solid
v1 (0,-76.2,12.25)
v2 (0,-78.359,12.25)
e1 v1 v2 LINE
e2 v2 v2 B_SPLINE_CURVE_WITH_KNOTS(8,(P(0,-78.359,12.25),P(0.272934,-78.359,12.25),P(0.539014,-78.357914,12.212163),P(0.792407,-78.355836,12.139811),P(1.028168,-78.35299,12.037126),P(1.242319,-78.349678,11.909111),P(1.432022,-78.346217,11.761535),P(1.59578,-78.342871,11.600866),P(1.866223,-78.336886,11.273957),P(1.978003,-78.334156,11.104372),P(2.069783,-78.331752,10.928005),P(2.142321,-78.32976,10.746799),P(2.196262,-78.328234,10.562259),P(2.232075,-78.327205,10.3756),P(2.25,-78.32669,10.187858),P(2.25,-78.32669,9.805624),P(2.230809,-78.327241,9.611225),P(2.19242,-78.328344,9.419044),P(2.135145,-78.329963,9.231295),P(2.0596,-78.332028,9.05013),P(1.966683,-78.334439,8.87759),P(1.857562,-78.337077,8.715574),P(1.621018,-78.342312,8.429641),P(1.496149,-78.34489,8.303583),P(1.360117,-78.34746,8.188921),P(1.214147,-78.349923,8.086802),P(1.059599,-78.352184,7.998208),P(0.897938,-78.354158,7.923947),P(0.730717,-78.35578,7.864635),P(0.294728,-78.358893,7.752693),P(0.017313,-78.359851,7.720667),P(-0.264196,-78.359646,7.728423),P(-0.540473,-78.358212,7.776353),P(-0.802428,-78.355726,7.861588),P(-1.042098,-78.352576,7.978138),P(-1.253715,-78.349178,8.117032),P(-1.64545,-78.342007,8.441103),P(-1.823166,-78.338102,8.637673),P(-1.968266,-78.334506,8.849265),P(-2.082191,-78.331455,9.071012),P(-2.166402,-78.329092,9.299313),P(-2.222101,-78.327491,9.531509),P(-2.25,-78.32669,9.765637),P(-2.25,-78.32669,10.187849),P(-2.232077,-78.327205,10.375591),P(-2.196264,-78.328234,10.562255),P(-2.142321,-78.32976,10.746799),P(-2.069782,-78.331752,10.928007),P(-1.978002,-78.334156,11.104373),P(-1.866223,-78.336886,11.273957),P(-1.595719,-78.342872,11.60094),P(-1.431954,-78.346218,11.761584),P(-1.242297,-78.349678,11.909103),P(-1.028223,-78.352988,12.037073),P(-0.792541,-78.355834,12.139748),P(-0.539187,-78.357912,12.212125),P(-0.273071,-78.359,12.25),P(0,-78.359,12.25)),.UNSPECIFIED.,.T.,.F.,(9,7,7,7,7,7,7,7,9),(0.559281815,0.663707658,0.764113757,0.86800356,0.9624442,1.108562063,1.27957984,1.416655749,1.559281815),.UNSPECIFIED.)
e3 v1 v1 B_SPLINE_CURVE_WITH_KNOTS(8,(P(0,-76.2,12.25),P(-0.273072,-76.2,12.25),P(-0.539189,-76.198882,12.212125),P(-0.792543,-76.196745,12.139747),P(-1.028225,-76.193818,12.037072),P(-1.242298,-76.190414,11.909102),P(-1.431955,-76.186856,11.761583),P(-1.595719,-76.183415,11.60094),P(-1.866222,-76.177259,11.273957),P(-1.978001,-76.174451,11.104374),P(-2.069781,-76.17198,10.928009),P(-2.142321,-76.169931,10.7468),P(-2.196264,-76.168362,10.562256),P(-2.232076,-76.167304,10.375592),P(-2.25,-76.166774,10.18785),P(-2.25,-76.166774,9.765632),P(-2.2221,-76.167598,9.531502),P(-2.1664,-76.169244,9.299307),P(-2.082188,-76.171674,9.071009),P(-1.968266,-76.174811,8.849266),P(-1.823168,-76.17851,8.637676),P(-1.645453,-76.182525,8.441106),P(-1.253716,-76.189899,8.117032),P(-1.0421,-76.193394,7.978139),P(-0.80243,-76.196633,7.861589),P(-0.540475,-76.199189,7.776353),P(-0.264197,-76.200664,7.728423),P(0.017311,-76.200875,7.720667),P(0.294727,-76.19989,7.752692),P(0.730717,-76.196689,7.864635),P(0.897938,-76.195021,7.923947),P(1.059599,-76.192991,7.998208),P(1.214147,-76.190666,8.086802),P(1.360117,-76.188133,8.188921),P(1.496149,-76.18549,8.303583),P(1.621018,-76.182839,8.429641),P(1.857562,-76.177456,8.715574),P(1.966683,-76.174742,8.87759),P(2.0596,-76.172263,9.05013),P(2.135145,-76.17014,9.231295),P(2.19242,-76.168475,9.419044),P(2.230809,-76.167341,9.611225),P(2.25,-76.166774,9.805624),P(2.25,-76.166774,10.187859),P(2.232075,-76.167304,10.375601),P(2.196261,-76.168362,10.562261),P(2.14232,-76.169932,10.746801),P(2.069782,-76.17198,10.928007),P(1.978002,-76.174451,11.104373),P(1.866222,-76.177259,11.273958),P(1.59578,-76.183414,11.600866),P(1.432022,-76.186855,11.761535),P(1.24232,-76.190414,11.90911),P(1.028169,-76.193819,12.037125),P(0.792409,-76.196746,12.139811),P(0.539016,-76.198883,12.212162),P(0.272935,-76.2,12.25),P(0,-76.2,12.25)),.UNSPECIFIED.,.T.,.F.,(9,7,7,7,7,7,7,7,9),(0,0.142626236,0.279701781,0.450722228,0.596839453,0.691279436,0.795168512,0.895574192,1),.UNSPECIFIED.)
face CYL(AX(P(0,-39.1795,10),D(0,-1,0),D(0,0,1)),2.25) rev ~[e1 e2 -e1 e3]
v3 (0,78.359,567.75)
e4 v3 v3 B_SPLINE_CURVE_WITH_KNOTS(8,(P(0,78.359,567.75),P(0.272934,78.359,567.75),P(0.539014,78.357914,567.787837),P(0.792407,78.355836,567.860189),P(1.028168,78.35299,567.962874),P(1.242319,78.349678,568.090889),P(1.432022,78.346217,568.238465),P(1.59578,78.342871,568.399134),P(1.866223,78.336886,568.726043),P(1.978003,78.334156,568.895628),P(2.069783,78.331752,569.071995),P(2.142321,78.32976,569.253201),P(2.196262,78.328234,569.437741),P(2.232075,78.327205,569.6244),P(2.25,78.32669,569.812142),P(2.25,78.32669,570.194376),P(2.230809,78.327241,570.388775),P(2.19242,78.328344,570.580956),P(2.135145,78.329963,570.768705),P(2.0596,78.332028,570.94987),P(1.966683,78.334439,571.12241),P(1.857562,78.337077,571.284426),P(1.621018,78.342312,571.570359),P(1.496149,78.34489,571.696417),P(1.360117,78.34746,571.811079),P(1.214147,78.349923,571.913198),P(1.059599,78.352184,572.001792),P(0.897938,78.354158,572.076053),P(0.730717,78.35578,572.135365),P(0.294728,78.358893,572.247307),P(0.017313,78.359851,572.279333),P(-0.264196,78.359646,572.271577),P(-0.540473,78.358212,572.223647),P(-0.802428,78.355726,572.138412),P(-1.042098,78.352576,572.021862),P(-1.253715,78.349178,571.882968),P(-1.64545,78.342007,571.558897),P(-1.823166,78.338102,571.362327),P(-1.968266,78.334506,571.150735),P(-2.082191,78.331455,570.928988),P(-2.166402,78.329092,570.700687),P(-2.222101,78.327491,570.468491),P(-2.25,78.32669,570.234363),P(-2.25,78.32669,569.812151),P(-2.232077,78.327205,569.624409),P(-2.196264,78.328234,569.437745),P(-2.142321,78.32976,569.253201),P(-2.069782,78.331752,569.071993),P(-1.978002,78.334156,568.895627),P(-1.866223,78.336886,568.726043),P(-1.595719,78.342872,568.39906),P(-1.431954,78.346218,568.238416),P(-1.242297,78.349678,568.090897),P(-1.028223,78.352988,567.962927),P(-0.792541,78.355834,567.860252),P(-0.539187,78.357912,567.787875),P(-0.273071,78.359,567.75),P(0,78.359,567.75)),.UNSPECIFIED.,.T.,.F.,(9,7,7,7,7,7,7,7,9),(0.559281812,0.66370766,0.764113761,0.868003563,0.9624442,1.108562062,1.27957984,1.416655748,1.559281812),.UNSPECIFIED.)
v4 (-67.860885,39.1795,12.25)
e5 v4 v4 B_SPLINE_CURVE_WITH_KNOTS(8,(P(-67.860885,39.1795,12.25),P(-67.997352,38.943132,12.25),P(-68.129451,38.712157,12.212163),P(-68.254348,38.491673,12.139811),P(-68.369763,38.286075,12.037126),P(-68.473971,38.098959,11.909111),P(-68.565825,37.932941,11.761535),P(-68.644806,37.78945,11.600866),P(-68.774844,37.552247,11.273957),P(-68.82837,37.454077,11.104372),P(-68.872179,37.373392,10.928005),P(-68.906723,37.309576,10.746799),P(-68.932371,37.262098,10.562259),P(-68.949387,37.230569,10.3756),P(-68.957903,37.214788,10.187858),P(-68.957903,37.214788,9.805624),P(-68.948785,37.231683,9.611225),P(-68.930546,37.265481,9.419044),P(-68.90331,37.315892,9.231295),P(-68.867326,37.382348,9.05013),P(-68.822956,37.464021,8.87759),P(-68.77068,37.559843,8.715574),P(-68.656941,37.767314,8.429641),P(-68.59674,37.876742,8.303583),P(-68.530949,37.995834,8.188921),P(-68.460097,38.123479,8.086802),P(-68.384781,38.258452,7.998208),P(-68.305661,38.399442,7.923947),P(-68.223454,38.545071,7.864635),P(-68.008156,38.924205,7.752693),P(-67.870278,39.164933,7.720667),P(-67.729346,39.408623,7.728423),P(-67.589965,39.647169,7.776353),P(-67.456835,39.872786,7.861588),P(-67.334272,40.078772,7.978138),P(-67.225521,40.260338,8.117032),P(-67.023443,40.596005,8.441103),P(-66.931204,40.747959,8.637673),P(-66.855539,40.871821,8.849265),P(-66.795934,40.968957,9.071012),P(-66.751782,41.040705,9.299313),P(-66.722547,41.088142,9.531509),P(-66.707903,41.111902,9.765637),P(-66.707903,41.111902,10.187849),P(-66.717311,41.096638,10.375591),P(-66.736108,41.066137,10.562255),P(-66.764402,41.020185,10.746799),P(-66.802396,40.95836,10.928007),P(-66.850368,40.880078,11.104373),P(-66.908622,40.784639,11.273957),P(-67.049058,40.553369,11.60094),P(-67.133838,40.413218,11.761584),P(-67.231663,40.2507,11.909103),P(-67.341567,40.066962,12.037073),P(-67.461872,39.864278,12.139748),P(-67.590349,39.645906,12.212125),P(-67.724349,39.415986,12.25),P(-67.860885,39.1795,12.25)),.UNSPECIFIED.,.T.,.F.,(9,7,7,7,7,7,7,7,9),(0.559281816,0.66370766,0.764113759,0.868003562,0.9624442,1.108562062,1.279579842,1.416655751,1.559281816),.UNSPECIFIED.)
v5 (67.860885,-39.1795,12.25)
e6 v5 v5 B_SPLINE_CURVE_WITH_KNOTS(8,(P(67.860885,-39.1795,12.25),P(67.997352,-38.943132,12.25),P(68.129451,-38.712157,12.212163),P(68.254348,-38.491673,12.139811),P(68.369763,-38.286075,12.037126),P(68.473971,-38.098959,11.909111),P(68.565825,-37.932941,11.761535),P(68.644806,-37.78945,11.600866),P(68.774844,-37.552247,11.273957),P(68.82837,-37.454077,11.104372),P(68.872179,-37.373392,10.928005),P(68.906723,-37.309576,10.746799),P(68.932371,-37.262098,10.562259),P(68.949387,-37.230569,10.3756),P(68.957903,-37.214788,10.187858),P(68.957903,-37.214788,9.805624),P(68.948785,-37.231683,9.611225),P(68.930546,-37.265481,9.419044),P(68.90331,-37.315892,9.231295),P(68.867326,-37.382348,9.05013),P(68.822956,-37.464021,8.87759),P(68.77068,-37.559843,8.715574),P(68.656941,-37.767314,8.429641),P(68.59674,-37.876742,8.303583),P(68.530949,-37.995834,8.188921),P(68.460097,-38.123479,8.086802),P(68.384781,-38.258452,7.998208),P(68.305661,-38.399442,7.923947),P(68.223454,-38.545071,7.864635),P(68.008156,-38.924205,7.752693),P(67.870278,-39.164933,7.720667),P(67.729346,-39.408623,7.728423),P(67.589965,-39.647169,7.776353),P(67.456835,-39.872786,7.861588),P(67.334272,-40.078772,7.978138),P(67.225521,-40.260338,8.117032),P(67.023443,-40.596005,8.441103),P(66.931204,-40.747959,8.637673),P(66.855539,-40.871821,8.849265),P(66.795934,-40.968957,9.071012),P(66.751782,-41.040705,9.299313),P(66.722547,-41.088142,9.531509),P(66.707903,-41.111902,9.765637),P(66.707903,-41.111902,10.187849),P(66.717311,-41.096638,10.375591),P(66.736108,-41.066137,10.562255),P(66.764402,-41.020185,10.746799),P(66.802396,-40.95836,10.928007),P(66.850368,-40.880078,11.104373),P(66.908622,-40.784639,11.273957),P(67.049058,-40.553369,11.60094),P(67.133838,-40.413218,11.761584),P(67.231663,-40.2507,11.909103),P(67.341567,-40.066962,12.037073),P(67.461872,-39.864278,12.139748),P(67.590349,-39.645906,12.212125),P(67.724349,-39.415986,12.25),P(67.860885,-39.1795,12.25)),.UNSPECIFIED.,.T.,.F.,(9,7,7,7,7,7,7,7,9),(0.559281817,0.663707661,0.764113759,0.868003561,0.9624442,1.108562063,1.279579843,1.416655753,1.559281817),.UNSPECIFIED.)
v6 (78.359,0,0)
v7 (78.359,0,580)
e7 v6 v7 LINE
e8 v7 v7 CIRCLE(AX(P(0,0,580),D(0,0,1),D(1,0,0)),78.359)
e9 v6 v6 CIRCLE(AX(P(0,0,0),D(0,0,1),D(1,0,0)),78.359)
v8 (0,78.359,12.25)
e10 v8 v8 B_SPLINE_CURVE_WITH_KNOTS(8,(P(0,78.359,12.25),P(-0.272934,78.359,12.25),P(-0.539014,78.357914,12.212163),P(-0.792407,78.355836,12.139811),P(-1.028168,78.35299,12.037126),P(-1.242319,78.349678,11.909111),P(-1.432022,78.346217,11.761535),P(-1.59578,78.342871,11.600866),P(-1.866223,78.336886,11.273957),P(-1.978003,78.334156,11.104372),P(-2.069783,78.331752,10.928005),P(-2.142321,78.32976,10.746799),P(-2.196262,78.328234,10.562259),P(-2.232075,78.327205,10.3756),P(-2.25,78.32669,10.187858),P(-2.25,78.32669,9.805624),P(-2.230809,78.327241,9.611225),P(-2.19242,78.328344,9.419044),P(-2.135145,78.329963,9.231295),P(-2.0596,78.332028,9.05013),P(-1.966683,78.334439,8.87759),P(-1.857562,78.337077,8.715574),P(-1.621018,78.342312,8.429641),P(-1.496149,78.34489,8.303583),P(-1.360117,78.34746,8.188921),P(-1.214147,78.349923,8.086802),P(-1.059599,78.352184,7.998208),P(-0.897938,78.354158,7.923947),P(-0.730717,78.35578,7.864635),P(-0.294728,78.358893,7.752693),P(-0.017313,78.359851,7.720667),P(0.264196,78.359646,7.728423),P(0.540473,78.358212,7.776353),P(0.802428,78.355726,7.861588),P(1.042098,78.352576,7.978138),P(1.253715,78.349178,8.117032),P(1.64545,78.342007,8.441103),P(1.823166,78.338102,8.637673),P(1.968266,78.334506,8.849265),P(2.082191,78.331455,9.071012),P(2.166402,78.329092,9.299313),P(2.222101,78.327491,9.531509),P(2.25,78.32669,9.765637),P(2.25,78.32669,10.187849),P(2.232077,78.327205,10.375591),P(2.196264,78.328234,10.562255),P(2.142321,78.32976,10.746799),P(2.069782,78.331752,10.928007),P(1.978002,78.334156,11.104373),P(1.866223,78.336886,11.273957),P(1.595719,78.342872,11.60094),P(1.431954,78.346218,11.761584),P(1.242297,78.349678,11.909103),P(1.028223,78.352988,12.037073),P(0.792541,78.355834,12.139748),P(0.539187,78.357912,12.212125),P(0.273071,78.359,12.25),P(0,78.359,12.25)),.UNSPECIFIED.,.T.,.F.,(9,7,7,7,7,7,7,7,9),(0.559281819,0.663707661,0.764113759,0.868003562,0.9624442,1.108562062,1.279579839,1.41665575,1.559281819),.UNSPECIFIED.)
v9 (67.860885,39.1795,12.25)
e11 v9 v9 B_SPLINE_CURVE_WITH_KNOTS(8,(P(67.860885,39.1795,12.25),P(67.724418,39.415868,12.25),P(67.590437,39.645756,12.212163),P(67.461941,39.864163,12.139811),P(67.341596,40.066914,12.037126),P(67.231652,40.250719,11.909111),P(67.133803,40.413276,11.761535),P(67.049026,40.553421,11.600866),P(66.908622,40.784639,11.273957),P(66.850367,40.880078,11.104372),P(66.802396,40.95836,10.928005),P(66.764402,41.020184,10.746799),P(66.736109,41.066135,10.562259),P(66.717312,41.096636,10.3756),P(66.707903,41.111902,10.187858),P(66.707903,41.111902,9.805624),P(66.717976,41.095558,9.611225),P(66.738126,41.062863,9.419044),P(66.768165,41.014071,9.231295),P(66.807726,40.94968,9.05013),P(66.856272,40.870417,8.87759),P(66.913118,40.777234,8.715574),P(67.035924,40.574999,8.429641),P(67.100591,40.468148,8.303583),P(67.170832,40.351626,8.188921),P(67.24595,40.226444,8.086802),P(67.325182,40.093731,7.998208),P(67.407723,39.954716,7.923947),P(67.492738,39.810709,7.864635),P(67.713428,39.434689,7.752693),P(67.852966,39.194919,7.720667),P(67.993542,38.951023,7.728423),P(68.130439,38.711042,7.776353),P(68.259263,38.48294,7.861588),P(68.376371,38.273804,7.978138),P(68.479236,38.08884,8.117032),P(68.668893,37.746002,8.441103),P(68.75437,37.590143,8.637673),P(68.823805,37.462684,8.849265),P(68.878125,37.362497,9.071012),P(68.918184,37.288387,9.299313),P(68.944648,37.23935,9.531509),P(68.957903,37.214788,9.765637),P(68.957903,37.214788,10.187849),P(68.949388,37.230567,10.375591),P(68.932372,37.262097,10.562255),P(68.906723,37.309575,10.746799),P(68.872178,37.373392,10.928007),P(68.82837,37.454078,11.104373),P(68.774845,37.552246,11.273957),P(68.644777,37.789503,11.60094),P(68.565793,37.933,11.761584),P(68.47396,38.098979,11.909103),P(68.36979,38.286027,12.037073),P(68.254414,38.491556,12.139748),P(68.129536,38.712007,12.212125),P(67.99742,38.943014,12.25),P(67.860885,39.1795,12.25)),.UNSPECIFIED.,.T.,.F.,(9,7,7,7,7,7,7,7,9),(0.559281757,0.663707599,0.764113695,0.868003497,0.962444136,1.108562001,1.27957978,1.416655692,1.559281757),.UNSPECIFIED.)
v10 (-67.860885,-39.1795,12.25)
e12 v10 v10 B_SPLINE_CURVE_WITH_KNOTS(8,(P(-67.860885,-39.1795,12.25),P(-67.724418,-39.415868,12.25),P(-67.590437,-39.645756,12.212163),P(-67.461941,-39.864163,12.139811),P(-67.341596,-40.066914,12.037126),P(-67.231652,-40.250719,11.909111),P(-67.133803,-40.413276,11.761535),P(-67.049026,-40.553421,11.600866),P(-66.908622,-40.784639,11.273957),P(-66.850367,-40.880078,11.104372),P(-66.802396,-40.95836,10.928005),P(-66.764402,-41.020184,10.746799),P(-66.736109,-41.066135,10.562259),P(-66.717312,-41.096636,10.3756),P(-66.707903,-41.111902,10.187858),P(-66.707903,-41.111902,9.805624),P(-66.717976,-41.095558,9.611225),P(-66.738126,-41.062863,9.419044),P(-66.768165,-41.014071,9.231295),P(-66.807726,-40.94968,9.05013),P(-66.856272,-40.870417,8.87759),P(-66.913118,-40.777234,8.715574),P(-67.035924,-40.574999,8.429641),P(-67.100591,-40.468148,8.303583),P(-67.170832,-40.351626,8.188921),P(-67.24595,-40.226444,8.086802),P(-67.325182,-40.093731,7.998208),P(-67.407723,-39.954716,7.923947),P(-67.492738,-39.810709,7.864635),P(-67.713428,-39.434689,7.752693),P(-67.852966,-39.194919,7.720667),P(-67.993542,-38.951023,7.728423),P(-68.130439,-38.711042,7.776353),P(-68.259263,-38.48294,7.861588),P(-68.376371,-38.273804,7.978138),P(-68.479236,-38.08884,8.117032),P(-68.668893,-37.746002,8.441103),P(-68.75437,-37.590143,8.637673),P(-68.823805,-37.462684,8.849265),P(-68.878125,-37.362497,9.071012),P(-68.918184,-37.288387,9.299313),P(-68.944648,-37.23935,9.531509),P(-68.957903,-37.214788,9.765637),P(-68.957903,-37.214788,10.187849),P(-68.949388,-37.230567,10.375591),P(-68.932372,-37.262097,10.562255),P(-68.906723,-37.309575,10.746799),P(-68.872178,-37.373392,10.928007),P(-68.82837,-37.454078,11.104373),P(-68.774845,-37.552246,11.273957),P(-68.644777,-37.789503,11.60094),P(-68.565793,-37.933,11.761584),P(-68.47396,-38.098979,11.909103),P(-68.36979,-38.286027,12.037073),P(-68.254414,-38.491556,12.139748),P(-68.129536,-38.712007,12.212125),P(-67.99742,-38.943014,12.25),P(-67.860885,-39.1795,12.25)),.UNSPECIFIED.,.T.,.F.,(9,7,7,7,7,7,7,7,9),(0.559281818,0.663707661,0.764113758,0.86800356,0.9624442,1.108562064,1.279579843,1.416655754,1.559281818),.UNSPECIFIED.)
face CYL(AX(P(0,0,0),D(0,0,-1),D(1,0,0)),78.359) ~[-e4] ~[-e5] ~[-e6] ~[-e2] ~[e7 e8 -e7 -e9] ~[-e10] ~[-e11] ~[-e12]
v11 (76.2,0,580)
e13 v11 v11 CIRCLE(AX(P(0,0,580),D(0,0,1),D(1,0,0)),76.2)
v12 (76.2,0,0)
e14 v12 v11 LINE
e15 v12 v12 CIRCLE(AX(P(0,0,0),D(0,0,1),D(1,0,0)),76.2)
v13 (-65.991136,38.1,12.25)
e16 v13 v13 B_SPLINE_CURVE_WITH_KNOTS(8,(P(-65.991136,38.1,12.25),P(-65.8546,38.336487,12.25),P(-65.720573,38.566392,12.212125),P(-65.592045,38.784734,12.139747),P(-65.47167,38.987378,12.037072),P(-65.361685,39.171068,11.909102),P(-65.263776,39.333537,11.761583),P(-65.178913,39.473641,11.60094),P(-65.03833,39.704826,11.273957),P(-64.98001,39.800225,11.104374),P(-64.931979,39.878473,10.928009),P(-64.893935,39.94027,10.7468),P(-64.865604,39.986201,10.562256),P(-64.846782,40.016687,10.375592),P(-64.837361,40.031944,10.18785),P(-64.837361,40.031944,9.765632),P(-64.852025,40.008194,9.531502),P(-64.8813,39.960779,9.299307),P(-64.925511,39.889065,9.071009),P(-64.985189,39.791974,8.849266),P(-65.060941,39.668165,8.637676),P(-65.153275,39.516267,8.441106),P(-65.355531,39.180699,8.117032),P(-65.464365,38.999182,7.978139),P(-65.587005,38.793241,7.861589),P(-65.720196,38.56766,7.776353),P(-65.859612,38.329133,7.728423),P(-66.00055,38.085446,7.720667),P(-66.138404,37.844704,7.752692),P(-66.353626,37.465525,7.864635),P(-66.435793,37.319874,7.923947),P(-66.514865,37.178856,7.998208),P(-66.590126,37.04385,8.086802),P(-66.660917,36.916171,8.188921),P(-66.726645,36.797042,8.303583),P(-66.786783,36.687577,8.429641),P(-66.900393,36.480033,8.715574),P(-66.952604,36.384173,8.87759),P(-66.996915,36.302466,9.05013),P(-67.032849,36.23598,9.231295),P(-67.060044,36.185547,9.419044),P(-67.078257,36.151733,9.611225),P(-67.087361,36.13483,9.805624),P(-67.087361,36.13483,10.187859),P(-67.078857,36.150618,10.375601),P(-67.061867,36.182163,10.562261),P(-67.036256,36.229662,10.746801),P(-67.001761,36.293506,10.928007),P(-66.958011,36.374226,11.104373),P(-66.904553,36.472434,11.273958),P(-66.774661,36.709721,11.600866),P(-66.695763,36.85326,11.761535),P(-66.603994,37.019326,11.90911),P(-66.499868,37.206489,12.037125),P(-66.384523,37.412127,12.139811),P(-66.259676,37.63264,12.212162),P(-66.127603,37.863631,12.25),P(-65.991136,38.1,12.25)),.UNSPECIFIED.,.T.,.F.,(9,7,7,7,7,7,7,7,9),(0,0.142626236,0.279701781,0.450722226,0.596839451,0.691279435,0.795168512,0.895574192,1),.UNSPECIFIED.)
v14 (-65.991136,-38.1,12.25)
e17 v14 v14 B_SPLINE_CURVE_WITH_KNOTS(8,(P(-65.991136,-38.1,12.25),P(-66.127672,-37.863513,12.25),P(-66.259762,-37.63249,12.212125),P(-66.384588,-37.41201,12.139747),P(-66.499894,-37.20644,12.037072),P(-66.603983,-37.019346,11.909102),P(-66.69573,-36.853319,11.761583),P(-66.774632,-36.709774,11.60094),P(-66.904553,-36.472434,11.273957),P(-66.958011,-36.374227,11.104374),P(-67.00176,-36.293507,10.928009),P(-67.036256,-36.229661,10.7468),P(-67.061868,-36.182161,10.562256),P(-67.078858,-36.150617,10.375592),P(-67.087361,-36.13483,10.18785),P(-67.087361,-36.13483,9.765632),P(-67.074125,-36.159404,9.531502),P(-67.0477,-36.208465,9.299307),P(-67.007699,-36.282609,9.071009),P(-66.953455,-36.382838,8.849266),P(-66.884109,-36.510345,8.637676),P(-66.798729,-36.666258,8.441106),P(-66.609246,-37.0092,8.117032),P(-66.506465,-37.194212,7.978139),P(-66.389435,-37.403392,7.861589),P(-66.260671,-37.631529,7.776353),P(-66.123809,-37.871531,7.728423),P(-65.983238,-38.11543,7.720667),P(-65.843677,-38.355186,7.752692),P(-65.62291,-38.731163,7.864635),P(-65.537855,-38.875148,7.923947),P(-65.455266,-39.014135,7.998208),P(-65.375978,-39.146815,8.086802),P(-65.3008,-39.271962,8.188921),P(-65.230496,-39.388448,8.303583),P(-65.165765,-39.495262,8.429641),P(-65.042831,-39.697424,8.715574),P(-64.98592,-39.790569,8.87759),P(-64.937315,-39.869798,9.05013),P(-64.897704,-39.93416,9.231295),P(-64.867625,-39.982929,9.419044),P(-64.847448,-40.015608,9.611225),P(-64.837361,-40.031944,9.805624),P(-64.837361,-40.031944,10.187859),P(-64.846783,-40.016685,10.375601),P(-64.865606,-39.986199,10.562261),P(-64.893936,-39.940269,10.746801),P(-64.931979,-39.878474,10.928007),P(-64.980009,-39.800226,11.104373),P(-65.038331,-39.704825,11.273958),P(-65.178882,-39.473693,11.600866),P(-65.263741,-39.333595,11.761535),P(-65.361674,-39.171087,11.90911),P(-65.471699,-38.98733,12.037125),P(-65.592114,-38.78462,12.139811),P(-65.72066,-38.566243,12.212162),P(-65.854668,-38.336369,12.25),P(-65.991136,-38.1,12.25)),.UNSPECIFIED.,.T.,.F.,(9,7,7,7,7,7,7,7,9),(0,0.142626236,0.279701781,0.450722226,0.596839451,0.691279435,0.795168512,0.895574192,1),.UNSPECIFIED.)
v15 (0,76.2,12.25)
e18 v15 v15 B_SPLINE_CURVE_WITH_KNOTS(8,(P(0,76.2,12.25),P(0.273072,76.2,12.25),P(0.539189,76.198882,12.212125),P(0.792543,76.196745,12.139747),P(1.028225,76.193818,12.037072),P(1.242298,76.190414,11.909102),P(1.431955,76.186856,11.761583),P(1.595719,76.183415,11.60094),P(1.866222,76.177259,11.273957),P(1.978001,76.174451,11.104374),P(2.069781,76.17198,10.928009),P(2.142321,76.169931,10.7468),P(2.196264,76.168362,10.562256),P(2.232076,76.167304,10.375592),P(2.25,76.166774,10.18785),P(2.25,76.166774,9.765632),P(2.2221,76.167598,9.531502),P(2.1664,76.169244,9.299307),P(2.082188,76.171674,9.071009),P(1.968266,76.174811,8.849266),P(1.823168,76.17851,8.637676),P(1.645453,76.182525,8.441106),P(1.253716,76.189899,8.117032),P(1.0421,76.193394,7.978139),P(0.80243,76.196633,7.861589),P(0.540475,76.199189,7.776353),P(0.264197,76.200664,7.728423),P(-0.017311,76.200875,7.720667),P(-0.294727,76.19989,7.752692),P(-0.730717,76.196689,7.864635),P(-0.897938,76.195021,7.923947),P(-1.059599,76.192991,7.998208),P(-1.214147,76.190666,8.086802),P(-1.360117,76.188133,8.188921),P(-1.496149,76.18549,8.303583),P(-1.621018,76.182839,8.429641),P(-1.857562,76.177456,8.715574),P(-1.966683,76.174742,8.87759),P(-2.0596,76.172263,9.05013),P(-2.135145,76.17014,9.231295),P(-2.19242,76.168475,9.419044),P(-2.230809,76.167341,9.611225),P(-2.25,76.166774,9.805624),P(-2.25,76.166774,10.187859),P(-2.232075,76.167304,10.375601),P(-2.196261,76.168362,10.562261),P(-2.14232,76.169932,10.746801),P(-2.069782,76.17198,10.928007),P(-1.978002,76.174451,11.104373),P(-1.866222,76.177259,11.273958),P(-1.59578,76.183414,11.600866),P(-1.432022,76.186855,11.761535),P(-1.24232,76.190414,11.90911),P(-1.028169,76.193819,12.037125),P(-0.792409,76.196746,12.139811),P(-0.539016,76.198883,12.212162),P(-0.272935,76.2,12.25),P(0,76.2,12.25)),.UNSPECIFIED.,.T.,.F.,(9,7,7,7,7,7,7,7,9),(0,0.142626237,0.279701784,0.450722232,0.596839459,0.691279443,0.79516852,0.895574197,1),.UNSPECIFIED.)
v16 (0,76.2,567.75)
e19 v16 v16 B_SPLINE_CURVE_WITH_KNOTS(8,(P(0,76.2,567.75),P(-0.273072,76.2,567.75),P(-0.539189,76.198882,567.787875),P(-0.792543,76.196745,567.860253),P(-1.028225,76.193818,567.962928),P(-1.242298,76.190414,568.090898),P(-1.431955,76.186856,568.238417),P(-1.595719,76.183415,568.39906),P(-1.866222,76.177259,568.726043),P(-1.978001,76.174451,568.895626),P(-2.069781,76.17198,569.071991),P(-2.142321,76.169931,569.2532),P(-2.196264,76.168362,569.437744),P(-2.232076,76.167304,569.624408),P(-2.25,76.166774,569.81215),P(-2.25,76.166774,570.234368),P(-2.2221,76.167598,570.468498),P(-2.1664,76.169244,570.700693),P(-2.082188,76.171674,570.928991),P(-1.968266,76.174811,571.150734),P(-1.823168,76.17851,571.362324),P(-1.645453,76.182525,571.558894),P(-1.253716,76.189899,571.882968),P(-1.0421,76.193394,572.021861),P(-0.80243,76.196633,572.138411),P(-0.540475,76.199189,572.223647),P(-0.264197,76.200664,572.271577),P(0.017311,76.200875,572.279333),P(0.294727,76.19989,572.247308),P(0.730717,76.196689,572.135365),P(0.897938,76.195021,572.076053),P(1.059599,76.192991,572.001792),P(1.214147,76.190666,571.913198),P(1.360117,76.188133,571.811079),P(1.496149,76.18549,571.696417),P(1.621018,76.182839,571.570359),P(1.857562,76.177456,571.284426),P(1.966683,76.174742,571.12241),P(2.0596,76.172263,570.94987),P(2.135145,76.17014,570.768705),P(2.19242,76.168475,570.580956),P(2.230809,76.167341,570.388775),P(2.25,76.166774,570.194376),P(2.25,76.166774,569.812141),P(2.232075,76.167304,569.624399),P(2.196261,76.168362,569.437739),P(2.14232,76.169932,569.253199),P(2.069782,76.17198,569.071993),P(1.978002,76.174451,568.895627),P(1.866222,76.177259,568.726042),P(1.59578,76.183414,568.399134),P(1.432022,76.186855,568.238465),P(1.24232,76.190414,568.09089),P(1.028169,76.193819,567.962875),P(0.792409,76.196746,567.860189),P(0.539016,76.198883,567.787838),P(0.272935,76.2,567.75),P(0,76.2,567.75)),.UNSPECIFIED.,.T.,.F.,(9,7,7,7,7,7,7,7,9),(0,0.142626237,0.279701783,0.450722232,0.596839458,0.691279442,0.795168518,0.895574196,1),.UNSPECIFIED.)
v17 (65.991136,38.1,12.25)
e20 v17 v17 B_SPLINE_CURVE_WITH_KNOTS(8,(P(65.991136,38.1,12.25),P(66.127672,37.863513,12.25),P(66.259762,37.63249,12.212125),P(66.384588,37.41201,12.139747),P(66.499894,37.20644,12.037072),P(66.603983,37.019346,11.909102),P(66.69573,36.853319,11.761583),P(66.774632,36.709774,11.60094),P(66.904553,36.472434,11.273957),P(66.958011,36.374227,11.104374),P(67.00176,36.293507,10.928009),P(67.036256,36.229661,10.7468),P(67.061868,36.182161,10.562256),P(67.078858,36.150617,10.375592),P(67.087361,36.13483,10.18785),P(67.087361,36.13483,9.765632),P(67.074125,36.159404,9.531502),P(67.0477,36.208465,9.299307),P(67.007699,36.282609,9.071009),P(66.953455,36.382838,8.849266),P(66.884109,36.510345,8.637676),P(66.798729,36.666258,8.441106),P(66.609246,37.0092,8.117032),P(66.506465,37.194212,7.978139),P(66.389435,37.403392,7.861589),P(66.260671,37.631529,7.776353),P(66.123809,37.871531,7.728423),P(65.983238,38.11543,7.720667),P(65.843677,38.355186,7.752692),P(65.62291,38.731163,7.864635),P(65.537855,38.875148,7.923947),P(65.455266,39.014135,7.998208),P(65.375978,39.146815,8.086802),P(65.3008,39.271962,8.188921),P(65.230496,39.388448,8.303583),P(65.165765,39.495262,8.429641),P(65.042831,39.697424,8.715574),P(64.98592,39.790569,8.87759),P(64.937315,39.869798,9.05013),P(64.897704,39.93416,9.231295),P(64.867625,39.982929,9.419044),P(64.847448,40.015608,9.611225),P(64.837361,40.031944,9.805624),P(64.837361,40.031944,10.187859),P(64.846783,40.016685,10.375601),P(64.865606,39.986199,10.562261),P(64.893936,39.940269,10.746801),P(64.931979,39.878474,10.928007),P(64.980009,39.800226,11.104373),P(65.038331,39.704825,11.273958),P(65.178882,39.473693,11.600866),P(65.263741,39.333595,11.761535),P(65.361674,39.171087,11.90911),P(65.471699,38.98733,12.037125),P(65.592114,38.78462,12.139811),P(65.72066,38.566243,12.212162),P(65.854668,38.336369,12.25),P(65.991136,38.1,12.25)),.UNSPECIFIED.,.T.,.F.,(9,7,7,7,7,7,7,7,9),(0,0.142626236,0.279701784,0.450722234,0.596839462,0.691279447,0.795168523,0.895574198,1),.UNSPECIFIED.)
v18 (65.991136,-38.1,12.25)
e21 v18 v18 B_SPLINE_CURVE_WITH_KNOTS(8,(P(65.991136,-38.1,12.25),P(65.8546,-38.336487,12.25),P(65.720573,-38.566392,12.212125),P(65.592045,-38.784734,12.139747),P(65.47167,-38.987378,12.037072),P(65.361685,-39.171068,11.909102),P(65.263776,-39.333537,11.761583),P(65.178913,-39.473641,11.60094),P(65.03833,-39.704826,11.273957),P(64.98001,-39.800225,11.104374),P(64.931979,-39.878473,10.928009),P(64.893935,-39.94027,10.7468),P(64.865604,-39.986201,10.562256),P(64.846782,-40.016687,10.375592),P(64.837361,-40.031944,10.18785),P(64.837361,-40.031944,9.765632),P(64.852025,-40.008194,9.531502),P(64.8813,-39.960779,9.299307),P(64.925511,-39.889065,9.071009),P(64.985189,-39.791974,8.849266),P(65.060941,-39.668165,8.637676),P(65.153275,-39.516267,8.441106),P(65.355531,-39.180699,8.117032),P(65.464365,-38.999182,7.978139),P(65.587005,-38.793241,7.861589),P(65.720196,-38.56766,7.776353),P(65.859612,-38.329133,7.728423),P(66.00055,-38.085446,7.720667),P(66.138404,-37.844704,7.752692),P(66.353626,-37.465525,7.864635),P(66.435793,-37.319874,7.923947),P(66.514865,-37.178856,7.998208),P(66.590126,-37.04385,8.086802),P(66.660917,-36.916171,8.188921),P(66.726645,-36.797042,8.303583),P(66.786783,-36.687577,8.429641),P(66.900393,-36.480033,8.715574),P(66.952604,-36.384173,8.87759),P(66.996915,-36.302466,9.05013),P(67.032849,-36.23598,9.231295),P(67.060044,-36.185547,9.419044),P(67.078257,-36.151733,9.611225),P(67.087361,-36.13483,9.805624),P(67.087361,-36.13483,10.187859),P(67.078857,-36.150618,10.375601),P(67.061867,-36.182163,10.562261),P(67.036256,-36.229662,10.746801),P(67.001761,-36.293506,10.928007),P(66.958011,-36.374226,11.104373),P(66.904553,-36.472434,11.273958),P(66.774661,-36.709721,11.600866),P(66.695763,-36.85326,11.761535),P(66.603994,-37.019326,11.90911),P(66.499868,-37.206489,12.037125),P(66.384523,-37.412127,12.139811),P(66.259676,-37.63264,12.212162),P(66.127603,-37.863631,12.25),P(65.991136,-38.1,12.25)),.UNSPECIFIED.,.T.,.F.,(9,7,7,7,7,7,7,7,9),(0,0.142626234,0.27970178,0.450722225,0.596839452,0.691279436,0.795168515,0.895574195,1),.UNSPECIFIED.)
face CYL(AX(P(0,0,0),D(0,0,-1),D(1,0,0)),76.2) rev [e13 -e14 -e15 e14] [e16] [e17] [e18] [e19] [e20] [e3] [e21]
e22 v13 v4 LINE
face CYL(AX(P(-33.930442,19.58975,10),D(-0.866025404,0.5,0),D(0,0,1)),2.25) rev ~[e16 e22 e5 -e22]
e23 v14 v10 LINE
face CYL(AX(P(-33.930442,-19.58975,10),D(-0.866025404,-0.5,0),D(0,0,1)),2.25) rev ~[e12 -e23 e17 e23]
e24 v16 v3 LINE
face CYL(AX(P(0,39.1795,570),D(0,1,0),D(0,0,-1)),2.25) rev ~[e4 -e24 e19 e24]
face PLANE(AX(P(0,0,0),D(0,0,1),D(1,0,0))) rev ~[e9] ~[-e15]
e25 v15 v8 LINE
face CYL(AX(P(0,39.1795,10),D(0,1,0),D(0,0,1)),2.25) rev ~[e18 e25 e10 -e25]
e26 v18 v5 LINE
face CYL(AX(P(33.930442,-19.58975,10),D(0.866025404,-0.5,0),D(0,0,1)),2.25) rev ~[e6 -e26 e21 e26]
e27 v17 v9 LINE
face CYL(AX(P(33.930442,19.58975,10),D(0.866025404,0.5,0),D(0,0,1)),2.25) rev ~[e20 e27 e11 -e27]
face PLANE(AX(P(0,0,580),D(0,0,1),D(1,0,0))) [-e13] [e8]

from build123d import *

# Parameters (mm, degrees)
SKETCH1_R           = 78.359
SKETCH1_R_2         = 76.2
BOSS_EXTRUDE1_DEPTH = 580
SKETCH5_W           = 2.25
SKETCH5_H           = 78.359
CIRPATTERN1_COUNT   = 6
SKETCH7_W           = 2.25
SKETCH7_H           = 78.359


with BuildPart() as part:
    # Sketch1 → Boss-Extrude1 (new body)
    with BuildSketch(Plane.XY):
        Circle(SKETCH1_R)
        Circle(SKETCH1_R_2, mode=Mode.SUBTRACT)
    extrude(amount=BOSS_EXTRUDE1_DEPTH)

    # Sketch5 → M4 Clearance Hole2 (revolve, cut)
    with BuildSketch(Plane(origin=(0, 0, 10), x_dir=(0, 0, 1), z_dir=(1, 0, 0))):
        with Locations((1.125, 39.1795)):
            Rectangle(SKETCH5_W, SKETCH5_H)
    m4_clearance_hole2 = revolve(axis=Axis((0, 6.35, 10), (0, -1, 0)), mode=Mode.SUBTRACT)

    # CirPattern1: M4 Clearance Hole2 ×6 about axis
    cirpattern1_axis = Axis((0, 0, 580), (0, 0, -1))
    for i in range(1, CIRPATTERN1_COUNT):
        add(m4_clearance_hole2.rotate(cirpattern1_axis, i * 360 / CIRPATTERN1_COUNT), mode=Mode.SUBTRACT)

    # Sketch7 → M4 Clearance Hole3 (revolve, cut)
    with BuildSketch(Plane(origin=(0, 0, 570), x_dir=(0, 0, -1), z_dir=(1, 0, 0))):
        with Locations((1.125, 39.1795)):
            Rectangle(SKETCH7_W, SKETCH7_H)
    revolve(axis=Axis((0, -6.35, 570), (0, 1, 0)), mode=Mode.SUBTRACT)


solid = part.part
